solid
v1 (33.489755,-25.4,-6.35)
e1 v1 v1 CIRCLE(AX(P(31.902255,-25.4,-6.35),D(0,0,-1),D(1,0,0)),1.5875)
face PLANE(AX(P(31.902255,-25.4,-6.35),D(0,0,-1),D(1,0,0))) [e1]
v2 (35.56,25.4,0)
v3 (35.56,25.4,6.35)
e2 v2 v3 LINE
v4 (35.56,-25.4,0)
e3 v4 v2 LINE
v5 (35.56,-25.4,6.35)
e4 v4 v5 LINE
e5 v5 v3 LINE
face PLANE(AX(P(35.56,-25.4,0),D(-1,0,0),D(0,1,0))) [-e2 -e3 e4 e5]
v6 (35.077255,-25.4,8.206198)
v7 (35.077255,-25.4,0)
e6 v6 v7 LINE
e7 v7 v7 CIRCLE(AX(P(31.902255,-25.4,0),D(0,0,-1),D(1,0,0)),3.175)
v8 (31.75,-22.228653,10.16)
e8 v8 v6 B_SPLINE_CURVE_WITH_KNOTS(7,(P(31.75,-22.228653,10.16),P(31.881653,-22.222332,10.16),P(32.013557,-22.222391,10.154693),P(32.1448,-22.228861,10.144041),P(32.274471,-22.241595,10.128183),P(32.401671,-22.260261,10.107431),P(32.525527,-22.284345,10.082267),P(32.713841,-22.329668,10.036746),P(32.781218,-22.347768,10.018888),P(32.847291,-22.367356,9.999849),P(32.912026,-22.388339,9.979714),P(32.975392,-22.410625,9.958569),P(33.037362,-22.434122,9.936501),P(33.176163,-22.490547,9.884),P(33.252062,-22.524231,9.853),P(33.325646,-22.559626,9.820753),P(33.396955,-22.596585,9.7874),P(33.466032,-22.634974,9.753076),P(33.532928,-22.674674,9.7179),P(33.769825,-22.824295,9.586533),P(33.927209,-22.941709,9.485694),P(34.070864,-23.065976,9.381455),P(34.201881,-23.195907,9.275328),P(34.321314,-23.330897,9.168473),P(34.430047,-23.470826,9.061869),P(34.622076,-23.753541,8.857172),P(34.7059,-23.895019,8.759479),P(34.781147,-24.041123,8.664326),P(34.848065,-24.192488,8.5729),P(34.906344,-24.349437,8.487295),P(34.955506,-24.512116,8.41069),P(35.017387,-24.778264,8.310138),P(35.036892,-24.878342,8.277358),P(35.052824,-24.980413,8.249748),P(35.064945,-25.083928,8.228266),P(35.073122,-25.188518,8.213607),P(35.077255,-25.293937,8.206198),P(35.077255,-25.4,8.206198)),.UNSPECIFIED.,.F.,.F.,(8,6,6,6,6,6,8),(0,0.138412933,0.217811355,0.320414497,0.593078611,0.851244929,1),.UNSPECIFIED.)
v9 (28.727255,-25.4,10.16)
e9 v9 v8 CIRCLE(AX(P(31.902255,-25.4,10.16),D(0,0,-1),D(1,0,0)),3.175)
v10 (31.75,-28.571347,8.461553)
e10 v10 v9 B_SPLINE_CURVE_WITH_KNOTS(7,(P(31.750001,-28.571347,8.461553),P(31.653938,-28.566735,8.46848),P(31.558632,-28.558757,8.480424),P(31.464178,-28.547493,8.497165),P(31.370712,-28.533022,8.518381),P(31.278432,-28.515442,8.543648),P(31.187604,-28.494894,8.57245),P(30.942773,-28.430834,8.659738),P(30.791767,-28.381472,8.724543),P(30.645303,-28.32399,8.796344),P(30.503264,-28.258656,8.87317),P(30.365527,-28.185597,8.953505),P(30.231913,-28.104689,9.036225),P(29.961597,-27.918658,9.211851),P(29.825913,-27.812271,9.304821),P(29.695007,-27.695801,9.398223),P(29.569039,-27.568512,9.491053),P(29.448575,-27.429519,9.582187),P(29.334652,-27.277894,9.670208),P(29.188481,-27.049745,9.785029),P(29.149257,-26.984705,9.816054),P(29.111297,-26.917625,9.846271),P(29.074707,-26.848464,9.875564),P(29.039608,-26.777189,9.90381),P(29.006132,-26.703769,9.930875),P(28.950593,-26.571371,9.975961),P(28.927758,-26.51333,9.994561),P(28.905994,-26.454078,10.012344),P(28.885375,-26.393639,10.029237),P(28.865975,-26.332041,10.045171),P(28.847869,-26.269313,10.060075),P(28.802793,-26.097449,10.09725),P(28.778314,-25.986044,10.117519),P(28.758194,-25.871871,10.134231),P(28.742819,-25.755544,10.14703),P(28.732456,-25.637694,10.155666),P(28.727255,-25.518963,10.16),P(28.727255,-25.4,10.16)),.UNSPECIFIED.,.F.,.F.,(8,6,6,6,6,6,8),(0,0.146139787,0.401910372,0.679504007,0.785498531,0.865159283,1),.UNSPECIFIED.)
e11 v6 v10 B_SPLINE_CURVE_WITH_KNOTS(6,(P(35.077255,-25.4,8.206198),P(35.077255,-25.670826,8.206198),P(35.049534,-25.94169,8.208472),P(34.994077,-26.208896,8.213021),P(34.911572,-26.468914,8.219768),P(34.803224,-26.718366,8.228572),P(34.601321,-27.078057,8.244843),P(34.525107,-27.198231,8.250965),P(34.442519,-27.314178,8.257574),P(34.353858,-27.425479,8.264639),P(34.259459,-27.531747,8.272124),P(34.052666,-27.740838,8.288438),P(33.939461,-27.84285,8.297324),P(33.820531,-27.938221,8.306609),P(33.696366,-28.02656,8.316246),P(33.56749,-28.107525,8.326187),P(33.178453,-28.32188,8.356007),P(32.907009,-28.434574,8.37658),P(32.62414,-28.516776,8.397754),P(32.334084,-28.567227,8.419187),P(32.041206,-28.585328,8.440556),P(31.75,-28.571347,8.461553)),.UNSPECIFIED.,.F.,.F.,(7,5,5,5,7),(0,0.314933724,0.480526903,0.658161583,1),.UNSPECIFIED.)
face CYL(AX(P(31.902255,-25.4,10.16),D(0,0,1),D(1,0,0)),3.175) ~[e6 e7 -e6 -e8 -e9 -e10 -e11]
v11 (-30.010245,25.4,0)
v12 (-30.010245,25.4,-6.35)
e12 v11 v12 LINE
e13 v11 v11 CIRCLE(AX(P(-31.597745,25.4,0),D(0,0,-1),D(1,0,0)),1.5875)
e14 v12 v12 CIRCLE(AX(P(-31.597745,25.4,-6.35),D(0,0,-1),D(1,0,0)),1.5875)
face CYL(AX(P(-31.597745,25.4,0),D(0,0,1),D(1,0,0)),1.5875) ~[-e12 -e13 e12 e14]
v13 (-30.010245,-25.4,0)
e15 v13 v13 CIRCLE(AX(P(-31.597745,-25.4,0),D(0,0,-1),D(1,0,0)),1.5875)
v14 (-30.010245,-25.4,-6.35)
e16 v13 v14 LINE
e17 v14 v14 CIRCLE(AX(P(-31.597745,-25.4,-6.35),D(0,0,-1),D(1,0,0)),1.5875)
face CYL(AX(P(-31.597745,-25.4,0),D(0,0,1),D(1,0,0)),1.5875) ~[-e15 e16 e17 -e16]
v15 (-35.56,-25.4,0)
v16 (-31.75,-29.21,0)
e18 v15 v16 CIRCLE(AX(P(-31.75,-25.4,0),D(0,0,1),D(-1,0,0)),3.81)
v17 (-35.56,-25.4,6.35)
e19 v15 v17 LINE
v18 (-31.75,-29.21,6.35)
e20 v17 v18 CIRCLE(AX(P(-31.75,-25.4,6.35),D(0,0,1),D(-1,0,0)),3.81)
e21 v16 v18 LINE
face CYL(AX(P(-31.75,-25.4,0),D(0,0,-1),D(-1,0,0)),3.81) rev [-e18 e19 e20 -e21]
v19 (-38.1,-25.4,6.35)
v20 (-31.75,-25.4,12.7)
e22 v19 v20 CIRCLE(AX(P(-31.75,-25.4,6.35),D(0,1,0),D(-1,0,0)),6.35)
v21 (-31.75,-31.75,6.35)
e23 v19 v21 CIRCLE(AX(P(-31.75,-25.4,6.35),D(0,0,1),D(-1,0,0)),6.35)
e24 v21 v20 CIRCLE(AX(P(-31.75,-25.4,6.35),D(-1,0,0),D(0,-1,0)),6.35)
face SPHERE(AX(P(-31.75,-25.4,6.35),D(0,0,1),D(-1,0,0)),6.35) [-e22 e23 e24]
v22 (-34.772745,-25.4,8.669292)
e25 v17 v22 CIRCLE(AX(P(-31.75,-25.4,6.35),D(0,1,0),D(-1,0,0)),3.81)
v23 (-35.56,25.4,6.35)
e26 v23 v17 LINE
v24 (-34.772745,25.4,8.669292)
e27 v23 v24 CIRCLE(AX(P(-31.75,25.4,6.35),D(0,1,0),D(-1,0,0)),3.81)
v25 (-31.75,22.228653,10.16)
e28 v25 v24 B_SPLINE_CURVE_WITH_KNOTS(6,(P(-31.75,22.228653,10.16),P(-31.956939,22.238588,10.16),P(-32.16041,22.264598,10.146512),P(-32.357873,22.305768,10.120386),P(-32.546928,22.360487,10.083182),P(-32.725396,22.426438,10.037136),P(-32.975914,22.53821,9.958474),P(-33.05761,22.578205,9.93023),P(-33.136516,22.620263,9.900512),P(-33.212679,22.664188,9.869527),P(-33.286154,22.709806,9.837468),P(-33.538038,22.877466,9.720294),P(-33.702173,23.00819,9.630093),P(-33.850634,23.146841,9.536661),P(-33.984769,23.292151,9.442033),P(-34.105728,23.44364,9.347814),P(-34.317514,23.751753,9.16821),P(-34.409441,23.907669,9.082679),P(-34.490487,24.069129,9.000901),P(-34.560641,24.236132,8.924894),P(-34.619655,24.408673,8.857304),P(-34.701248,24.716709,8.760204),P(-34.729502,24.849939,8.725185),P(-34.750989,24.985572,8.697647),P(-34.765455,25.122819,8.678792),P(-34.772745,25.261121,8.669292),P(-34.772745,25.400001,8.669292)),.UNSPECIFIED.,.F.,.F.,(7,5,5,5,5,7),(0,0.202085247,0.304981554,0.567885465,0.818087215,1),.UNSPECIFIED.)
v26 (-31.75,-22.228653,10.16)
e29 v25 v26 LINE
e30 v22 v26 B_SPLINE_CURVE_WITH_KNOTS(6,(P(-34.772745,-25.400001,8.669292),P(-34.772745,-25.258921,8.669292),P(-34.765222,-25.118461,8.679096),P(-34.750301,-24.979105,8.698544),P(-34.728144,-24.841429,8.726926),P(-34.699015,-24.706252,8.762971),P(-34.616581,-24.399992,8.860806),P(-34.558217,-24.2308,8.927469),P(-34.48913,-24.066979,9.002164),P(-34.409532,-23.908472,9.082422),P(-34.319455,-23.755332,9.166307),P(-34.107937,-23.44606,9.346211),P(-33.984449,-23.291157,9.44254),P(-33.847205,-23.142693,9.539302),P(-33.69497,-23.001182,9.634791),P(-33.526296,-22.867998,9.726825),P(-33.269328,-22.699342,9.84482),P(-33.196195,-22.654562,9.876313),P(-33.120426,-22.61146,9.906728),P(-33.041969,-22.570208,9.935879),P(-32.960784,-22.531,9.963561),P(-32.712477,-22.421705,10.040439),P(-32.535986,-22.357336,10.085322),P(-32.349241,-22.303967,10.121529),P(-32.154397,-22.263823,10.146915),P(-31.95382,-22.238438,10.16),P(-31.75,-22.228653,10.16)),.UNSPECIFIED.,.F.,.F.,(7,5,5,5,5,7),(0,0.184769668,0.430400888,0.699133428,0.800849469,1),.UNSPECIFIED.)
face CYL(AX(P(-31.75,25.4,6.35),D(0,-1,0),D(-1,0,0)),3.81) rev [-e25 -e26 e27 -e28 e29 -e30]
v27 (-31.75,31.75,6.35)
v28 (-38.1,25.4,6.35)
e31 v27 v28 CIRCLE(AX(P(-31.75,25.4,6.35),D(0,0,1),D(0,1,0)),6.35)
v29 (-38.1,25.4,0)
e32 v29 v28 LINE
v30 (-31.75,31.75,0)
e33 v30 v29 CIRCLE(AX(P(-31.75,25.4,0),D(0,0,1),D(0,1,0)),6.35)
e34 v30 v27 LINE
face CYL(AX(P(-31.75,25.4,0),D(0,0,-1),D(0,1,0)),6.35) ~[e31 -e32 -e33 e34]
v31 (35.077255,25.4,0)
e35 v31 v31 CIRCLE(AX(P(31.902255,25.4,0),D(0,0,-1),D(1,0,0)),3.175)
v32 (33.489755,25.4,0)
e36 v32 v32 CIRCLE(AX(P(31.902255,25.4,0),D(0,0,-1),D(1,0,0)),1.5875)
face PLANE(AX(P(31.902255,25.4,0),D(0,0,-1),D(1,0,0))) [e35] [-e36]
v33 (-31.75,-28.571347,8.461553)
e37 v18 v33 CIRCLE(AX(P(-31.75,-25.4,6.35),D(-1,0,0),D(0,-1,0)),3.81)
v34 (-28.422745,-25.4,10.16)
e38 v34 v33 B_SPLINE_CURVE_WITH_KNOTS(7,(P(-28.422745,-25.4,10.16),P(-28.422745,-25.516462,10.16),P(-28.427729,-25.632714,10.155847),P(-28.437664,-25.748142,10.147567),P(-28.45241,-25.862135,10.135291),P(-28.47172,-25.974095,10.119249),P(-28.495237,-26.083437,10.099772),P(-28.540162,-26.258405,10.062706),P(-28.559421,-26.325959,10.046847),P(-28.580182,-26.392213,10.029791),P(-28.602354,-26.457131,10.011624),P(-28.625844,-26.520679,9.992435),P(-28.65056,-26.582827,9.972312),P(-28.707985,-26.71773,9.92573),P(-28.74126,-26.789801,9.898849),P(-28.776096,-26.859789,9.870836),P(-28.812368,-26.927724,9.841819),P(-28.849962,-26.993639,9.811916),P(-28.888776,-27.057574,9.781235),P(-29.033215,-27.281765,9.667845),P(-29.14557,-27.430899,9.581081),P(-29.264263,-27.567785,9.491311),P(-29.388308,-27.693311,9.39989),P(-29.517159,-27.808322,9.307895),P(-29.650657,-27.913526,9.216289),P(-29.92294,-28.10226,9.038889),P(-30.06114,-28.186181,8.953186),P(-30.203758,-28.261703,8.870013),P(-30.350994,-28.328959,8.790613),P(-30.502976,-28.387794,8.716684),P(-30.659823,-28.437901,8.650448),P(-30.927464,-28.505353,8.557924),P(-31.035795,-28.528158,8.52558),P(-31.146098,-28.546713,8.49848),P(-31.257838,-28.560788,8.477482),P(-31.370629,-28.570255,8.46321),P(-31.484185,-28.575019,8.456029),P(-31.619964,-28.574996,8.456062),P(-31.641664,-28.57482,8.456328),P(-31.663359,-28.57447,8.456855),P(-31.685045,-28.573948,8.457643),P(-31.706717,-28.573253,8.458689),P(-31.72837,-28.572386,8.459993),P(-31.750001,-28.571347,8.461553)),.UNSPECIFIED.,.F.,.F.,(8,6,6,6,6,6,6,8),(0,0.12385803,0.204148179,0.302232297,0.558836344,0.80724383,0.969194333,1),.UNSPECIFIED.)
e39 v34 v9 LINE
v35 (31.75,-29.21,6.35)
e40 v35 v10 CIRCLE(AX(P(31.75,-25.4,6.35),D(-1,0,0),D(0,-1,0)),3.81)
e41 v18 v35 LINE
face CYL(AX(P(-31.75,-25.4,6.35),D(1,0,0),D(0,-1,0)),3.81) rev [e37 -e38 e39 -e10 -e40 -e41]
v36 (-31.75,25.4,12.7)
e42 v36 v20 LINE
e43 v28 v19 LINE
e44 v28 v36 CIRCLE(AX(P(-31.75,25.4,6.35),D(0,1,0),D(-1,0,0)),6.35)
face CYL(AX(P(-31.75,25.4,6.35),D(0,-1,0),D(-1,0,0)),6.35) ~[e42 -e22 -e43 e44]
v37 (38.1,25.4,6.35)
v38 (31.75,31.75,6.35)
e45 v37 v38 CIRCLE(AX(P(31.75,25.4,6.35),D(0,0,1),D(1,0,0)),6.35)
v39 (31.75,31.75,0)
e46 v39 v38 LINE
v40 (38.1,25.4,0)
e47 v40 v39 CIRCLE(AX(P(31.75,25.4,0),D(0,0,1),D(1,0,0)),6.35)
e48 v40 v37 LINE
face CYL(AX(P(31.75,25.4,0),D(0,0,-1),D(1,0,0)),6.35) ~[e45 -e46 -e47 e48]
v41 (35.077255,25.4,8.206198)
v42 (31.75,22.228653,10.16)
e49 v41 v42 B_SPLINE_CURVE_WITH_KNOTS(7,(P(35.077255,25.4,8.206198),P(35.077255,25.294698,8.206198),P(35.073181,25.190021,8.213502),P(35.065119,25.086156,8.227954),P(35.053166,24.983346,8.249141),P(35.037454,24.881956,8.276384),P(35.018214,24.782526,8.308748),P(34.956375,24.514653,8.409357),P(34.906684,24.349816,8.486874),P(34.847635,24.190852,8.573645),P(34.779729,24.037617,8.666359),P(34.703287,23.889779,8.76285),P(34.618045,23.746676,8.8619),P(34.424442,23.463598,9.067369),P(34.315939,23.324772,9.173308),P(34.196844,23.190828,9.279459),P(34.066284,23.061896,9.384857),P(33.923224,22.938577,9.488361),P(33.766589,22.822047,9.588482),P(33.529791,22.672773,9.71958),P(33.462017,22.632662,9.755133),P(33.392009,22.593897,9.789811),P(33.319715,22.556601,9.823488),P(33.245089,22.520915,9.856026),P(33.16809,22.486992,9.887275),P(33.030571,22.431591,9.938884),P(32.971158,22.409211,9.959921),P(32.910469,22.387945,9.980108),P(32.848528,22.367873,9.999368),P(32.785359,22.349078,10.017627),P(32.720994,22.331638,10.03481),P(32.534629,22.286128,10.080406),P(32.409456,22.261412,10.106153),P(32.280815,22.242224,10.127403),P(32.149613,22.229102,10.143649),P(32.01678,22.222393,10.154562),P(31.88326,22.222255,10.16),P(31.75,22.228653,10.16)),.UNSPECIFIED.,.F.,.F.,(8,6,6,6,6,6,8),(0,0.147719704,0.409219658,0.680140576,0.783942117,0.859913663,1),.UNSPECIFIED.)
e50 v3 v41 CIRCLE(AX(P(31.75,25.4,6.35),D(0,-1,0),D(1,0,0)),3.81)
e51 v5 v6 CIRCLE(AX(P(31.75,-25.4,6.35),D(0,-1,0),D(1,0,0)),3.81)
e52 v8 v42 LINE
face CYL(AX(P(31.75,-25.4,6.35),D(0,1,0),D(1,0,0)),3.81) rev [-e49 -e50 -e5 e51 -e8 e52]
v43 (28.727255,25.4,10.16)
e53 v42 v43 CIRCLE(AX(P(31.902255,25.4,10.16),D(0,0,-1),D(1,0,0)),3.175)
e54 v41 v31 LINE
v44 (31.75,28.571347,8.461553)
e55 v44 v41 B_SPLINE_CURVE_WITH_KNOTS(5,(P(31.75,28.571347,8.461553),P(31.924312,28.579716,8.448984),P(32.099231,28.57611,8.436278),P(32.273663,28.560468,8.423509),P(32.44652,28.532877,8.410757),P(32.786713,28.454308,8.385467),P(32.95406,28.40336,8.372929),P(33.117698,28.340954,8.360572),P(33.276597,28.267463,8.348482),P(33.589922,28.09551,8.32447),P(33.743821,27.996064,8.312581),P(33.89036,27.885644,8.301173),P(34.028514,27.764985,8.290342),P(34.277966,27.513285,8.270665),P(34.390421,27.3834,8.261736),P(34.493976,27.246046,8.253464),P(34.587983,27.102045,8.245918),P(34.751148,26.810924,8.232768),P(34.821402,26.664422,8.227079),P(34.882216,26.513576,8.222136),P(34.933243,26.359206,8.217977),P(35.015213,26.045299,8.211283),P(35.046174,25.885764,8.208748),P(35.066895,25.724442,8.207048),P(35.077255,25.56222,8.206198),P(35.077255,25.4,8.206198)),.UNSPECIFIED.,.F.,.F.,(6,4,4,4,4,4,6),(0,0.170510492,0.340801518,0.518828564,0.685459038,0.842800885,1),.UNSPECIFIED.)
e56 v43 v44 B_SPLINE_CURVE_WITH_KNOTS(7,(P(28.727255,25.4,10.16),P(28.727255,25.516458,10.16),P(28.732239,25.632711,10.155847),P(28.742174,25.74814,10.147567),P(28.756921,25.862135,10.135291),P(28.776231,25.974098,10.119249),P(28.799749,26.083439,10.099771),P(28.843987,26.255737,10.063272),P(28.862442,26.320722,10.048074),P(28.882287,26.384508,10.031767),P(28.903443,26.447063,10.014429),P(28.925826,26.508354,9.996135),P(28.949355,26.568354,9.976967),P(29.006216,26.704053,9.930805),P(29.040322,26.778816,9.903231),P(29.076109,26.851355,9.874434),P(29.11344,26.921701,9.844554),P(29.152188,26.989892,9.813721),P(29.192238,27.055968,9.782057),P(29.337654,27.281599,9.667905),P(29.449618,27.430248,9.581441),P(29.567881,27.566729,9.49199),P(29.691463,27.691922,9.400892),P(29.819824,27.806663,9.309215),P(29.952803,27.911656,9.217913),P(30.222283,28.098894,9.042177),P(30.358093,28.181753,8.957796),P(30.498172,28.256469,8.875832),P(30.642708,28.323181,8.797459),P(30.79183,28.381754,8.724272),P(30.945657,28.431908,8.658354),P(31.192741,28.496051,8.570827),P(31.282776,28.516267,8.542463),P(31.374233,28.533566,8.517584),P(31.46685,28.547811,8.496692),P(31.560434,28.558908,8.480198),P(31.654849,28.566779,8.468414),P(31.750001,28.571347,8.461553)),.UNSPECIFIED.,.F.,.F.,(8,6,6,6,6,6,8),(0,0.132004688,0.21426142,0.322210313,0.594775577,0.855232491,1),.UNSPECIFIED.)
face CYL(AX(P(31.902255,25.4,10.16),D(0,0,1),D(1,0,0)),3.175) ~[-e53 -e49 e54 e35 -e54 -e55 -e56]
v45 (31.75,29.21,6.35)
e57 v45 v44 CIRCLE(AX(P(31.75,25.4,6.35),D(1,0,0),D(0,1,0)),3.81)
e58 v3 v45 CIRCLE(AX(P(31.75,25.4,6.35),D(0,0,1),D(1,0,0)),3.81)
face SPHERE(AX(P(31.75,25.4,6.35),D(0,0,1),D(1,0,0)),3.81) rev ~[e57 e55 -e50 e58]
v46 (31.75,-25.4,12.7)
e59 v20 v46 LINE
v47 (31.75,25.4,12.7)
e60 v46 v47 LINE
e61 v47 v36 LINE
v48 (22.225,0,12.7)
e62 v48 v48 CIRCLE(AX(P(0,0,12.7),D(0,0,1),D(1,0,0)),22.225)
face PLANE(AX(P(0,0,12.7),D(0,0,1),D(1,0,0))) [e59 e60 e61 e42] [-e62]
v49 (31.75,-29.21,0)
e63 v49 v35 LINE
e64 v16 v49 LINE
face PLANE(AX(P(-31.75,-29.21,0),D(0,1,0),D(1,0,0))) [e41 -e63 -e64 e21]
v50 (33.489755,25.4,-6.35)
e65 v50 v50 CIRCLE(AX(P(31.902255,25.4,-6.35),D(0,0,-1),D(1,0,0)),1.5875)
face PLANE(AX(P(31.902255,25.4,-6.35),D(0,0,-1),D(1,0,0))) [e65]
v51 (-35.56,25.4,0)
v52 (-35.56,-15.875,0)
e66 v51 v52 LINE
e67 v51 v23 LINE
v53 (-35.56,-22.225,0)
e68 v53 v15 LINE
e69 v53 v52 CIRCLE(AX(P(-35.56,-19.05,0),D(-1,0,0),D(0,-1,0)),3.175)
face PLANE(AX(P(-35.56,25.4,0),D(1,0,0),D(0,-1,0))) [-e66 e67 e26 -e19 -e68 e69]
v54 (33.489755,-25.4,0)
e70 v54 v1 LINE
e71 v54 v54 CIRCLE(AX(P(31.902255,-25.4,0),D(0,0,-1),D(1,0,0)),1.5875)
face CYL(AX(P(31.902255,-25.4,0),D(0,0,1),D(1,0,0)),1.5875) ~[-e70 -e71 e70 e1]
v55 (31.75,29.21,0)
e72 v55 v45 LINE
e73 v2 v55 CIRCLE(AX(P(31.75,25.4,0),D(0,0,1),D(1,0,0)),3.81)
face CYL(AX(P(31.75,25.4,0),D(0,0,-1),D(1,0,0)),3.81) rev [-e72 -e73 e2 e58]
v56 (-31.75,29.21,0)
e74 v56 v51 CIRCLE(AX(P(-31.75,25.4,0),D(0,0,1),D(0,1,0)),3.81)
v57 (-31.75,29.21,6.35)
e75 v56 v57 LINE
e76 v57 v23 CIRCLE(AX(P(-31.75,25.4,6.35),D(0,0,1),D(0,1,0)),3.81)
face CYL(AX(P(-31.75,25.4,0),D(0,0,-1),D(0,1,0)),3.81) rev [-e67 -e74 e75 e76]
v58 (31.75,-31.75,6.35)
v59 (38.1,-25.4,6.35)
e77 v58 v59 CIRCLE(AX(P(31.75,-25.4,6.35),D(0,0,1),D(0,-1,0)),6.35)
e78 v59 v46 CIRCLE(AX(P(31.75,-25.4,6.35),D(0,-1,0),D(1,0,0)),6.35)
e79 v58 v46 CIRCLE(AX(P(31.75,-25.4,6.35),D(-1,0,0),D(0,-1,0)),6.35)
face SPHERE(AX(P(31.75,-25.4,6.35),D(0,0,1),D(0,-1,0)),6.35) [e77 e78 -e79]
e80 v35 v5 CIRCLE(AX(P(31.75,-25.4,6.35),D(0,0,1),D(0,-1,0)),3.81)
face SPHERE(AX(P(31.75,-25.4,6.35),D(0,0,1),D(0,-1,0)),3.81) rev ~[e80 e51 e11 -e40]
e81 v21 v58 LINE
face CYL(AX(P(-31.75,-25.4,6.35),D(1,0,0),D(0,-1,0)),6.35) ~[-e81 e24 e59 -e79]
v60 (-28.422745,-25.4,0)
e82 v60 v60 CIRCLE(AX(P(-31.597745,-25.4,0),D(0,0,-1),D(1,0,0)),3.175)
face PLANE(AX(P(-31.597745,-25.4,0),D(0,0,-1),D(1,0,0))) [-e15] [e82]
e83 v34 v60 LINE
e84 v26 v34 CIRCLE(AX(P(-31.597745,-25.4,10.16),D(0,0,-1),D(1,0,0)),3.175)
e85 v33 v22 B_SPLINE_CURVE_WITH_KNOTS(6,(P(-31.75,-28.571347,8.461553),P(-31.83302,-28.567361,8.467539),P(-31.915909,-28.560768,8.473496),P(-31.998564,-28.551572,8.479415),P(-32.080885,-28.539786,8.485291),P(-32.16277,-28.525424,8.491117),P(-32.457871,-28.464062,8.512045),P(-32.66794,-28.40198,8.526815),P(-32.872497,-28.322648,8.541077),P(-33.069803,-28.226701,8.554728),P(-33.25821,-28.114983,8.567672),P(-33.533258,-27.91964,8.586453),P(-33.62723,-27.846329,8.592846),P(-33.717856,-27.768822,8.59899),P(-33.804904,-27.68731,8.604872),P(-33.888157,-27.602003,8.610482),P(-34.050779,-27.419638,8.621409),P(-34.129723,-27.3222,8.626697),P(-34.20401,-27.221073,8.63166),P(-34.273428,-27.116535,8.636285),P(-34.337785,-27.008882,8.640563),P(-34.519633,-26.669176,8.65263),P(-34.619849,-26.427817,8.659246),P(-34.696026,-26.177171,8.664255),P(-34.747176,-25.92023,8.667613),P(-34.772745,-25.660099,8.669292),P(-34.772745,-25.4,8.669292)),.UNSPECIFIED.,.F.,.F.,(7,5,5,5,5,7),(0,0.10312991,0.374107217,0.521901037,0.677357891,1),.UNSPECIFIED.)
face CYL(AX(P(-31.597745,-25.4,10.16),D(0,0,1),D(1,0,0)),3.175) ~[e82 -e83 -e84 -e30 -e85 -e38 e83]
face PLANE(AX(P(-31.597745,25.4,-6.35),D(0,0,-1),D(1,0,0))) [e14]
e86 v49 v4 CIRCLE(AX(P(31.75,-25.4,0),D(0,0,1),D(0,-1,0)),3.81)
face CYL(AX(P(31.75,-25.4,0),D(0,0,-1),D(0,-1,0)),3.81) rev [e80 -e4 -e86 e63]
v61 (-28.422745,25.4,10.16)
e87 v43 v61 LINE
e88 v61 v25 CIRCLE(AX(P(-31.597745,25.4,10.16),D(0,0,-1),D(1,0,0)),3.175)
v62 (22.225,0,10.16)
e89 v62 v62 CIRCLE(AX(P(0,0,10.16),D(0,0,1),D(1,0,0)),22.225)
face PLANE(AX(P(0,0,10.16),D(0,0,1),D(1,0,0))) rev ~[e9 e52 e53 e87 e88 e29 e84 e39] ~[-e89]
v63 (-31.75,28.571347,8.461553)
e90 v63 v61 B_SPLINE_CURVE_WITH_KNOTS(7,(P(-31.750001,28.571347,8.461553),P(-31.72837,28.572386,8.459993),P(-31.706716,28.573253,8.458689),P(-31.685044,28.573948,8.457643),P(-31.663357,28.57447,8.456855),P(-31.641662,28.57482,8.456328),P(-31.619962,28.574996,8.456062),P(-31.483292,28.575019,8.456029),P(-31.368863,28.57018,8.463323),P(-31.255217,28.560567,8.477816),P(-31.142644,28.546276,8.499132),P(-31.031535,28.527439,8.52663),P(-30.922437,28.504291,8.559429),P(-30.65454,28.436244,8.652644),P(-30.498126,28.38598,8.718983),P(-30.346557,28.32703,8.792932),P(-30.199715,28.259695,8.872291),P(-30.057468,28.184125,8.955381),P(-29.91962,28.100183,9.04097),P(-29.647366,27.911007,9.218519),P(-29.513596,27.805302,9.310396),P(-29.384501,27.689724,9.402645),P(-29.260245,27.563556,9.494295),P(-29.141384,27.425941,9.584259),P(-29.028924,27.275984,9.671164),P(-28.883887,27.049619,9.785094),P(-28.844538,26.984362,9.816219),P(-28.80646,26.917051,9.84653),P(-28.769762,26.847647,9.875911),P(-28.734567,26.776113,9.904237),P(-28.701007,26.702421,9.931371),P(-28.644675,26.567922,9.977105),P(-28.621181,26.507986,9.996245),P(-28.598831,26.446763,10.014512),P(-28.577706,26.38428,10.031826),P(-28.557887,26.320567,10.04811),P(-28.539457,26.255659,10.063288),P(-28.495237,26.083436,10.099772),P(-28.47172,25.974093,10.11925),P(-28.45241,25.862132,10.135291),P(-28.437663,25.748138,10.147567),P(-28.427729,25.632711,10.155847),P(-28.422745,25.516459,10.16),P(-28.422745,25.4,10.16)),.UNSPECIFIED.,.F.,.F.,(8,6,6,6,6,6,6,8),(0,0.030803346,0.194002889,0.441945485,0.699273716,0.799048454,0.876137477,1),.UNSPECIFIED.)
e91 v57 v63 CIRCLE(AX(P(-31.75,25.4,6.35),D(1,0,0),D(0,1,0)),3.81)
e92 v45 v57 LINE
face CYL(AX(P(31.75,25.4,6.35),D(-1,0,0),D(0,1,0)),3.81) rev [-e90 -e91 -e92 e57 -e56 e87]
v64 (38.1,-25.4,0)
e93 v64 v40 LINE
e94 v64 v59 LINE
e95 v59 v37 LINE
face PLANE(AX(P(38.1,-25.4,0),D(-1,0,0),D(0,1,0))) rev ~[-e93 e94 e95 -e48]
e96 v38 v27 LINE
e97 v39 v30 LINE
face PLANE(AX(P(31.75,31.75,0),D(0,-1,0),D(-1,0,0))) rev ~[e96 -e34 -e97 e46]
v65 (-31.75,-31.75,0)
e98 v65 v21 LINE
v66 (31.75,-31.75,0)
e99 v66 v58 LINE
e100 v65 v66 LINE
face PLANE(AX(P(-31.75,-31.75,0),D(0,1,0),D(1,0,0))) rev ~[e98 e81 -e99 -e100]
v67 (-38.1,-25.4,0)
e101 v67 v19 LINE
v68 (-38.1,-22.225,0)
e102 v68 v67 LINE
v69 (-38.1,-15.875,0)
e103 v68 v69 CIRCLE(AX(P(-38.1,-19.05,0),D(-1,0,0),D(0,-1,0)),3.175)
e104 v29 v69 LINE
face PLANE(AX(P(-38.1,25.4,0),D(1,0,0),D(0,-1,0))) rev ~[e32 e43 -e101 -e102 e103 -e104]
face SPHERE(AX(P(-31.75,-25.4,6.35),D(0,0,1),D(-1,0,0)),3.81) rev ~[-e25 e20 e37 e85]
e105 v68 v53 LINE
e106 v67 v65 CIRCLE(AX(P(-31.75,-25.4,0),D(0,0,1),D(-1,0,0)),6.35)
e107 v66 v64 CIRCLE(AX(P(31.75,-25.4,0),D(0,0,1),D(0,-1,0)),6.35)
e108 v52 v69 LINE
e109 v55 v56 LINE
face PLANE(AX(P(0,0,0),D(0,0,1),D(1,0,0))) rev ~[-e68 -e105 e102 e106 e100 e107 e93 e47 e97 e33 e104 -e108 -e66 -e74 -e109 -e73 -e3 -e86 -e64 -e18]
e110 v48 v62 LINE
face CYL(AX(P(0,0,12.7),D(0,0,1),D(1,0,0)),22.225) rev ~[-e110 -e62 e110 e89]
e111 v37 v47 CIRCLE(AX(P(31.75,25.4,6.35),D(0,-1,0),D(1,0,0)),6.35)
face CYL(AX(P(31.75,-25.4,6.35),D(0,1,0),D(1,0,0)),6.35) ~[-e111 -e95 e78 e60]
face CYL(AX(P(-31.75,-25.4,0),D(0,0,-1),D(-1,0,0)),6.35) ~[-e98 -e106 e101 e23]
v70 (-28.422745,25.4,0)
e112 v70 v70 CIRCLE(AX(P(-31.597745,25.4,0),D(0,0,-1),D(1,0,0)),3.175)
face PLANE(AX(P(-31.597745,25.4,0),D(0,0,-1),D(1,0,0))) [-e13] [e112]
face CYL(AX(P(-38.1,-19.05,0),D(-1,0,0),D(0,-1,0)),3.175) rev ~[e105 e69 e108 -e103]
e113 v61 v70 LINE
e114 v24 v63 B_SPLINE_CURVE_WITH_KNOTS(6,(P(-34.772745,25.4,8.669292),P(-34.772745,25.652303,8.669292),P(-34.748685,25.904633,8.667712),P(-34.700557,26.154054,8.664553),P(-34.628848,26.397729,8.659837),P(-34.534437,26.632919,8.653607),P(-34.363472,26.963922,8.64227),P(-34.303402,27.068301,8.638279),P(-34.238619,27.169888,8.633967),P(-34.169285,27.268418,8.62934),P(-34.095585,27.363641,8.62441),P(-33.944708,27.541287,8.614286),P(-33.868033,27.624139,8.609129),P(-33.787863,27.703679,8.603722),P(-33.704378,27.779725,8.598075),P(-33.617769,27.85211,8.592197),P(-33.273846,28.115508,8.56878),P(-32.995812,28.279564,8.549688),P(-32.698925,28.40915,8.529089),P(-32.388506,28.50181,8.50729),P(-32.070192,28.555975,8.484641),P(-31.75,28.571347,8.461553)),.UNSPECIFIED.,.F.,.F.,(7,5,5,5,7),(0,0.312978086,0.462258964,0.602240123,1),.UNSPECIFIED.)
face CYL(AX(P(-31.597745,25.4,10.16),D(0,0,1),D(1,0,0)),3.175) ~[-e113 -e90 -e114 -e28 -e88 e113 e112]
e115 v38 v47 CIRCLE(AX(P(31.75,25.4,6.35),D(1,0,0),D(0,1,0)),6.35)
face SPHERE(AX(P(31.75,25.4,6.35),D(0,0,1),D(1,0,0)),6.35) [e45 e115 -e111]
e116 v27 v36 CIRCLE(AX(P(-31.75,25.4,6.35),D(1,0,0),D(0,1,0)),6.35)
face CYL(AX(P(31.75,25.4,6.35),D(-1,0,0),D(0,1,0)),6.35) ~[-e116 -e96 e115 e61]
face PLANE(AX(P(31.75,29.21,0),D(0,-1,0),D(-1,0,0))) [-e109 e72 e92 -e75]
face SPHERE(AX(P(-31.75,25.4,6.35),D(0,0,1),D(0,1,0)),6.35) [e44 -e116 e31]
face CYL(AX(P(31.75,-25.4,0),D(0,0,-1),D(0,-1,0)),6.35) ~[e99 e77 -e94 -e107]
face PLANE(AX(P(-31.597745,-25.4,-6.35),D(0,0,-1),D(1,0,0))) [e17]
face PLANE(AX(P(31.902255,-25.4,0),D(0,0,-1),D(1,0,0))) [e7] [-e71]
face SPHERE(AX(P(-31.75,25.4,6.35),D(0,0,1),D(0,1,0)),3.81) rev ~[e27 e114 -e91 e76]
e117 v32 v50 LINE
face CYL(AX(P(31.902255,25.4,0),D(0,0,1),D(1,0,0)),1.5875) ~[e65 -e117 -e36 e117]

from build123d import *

# Parameters (mm, degrees)
F1_DEPTH  = 12.7
F2_R      = 6.35
F3_T      = -2.54
F4_R      = 3.175
F5_DEPTH  = 2.54
F7_R      = 3.175
F8_DEPTH  = 10.16
F9_R      = 1.5875
F10_DEPTH = 6.35
F11_R     = 22.225
F12_DEPTH = 2.54


with BuildPart() as f1:
    # F0 (on Top) → F1 (new body)
    with BuildSketch(Plane.XY):
        with BuildLine():
            Line((-31.75, -31.75), (31.75, -31.75))
            ThreePointArc((31.75, -31.75), (36.2401280605, -29.8901280605), (38.1, -25.4))
            Line((38.1, -25.4), (38.1, 25.4))
            ThreePointArc((38.1, 25.4), (36.2401280605, 29.8901280605), (31.75, 31.75))
            Line((31.75, 31.75), (-31.75, 31.75))
            ThreePointArc((-31.75, 31.75), (-36.2401280605, 29.8901280605), (-38.1, 25.4))
            Line((-38.1, 25.4), (-38.1, -25.4))
            ThreePointArc((-38.1, -25.4), (-36.2401280605, -29.8901280605), (-31.75, -31.75))
        make_face()
    extrude(amount=F1_DEPTH)

    # F2
    f2_edges = [f1.edges().sort_by_distance(p)[0] for p in [
        (0, -31.75, 12.7),
        (36.240128, -29.890128, 12.7),
        (38.1, 0, 12.7),
        (36.240128, 29.890128, 12.7),
        (0, 31.75, 12.7),
        (-36.240128, 29.890128, 12.7),
        (-38.1, 0, 12.7),
        (-36.240128, -29.890128, 12.7),
    ]]
    fillet(f2_edges, radius=F2_R)

    # F3
    f3_openings = [f1.faces().sort_by_distance(p)[0] for p in [
        (0, 0, 0),
    ]]
    offset(amount=F3_T, openings=f3_openings)

    # F4 (on face) → F5 (cut, through all)
    with BuildSketch(Plane(origin=(-38.1, 0, 0), x_dir=(0, -1, 0), z_dir=(-1, 0, 0))):
        with Locations((19.05, 0)):
            Circle(F4_R)
    extrude(amount=-F5_DEPTH, mode=Mode.SUBTRACT)

    # F7 (on offset) → F8 (join, through all)
    with BuildSketch(Plane(origin=(0, 0, 10.16), x_dir=(1, 0, 0), z_dir=(0, 0, -1))):
        with Locations((-31.5977446735, 25.4)):
            Circle(F7_R)
        with Locations((-31.5977446735, -25.4)):
            Circle(F7_R)
        with Locations((31.9022553265, 25.4)):
            Circle(F7_R)
        with Locations((31.9022553265, -25.4)):
            Circle(F7_R)
    extrude(amount=F8_DEPTH)

    # F9 (on face) → F10 (join)
    with BuildSketch(Plane(origin=(0, 0, 0), x_dir=(1, 0, 0), z_dir=(0, 0, -1))):
        with Locations((-31.5977446735, 25.4)):
            Circle(F9_R)
        with Locations((-31.5977446735, -25.4)):
            Circle(F9_R)
        with Locations((31.9022553265, 25.4)):
            Circle(F9_R)
        with Locations((31.9022553265, -25.4)):
            Circle(F9_R)
    extrude(amount=F10_DEPTH)

    # F11 (on face) → F12 (cut, through all)
    with BuildSketch(Plane.XY.offset(12.7)):
        Circle(F11_R)
    extrude(amount=-F12_DEPTH, mode=Mode.SUBTRACT)


solid = f1.part
